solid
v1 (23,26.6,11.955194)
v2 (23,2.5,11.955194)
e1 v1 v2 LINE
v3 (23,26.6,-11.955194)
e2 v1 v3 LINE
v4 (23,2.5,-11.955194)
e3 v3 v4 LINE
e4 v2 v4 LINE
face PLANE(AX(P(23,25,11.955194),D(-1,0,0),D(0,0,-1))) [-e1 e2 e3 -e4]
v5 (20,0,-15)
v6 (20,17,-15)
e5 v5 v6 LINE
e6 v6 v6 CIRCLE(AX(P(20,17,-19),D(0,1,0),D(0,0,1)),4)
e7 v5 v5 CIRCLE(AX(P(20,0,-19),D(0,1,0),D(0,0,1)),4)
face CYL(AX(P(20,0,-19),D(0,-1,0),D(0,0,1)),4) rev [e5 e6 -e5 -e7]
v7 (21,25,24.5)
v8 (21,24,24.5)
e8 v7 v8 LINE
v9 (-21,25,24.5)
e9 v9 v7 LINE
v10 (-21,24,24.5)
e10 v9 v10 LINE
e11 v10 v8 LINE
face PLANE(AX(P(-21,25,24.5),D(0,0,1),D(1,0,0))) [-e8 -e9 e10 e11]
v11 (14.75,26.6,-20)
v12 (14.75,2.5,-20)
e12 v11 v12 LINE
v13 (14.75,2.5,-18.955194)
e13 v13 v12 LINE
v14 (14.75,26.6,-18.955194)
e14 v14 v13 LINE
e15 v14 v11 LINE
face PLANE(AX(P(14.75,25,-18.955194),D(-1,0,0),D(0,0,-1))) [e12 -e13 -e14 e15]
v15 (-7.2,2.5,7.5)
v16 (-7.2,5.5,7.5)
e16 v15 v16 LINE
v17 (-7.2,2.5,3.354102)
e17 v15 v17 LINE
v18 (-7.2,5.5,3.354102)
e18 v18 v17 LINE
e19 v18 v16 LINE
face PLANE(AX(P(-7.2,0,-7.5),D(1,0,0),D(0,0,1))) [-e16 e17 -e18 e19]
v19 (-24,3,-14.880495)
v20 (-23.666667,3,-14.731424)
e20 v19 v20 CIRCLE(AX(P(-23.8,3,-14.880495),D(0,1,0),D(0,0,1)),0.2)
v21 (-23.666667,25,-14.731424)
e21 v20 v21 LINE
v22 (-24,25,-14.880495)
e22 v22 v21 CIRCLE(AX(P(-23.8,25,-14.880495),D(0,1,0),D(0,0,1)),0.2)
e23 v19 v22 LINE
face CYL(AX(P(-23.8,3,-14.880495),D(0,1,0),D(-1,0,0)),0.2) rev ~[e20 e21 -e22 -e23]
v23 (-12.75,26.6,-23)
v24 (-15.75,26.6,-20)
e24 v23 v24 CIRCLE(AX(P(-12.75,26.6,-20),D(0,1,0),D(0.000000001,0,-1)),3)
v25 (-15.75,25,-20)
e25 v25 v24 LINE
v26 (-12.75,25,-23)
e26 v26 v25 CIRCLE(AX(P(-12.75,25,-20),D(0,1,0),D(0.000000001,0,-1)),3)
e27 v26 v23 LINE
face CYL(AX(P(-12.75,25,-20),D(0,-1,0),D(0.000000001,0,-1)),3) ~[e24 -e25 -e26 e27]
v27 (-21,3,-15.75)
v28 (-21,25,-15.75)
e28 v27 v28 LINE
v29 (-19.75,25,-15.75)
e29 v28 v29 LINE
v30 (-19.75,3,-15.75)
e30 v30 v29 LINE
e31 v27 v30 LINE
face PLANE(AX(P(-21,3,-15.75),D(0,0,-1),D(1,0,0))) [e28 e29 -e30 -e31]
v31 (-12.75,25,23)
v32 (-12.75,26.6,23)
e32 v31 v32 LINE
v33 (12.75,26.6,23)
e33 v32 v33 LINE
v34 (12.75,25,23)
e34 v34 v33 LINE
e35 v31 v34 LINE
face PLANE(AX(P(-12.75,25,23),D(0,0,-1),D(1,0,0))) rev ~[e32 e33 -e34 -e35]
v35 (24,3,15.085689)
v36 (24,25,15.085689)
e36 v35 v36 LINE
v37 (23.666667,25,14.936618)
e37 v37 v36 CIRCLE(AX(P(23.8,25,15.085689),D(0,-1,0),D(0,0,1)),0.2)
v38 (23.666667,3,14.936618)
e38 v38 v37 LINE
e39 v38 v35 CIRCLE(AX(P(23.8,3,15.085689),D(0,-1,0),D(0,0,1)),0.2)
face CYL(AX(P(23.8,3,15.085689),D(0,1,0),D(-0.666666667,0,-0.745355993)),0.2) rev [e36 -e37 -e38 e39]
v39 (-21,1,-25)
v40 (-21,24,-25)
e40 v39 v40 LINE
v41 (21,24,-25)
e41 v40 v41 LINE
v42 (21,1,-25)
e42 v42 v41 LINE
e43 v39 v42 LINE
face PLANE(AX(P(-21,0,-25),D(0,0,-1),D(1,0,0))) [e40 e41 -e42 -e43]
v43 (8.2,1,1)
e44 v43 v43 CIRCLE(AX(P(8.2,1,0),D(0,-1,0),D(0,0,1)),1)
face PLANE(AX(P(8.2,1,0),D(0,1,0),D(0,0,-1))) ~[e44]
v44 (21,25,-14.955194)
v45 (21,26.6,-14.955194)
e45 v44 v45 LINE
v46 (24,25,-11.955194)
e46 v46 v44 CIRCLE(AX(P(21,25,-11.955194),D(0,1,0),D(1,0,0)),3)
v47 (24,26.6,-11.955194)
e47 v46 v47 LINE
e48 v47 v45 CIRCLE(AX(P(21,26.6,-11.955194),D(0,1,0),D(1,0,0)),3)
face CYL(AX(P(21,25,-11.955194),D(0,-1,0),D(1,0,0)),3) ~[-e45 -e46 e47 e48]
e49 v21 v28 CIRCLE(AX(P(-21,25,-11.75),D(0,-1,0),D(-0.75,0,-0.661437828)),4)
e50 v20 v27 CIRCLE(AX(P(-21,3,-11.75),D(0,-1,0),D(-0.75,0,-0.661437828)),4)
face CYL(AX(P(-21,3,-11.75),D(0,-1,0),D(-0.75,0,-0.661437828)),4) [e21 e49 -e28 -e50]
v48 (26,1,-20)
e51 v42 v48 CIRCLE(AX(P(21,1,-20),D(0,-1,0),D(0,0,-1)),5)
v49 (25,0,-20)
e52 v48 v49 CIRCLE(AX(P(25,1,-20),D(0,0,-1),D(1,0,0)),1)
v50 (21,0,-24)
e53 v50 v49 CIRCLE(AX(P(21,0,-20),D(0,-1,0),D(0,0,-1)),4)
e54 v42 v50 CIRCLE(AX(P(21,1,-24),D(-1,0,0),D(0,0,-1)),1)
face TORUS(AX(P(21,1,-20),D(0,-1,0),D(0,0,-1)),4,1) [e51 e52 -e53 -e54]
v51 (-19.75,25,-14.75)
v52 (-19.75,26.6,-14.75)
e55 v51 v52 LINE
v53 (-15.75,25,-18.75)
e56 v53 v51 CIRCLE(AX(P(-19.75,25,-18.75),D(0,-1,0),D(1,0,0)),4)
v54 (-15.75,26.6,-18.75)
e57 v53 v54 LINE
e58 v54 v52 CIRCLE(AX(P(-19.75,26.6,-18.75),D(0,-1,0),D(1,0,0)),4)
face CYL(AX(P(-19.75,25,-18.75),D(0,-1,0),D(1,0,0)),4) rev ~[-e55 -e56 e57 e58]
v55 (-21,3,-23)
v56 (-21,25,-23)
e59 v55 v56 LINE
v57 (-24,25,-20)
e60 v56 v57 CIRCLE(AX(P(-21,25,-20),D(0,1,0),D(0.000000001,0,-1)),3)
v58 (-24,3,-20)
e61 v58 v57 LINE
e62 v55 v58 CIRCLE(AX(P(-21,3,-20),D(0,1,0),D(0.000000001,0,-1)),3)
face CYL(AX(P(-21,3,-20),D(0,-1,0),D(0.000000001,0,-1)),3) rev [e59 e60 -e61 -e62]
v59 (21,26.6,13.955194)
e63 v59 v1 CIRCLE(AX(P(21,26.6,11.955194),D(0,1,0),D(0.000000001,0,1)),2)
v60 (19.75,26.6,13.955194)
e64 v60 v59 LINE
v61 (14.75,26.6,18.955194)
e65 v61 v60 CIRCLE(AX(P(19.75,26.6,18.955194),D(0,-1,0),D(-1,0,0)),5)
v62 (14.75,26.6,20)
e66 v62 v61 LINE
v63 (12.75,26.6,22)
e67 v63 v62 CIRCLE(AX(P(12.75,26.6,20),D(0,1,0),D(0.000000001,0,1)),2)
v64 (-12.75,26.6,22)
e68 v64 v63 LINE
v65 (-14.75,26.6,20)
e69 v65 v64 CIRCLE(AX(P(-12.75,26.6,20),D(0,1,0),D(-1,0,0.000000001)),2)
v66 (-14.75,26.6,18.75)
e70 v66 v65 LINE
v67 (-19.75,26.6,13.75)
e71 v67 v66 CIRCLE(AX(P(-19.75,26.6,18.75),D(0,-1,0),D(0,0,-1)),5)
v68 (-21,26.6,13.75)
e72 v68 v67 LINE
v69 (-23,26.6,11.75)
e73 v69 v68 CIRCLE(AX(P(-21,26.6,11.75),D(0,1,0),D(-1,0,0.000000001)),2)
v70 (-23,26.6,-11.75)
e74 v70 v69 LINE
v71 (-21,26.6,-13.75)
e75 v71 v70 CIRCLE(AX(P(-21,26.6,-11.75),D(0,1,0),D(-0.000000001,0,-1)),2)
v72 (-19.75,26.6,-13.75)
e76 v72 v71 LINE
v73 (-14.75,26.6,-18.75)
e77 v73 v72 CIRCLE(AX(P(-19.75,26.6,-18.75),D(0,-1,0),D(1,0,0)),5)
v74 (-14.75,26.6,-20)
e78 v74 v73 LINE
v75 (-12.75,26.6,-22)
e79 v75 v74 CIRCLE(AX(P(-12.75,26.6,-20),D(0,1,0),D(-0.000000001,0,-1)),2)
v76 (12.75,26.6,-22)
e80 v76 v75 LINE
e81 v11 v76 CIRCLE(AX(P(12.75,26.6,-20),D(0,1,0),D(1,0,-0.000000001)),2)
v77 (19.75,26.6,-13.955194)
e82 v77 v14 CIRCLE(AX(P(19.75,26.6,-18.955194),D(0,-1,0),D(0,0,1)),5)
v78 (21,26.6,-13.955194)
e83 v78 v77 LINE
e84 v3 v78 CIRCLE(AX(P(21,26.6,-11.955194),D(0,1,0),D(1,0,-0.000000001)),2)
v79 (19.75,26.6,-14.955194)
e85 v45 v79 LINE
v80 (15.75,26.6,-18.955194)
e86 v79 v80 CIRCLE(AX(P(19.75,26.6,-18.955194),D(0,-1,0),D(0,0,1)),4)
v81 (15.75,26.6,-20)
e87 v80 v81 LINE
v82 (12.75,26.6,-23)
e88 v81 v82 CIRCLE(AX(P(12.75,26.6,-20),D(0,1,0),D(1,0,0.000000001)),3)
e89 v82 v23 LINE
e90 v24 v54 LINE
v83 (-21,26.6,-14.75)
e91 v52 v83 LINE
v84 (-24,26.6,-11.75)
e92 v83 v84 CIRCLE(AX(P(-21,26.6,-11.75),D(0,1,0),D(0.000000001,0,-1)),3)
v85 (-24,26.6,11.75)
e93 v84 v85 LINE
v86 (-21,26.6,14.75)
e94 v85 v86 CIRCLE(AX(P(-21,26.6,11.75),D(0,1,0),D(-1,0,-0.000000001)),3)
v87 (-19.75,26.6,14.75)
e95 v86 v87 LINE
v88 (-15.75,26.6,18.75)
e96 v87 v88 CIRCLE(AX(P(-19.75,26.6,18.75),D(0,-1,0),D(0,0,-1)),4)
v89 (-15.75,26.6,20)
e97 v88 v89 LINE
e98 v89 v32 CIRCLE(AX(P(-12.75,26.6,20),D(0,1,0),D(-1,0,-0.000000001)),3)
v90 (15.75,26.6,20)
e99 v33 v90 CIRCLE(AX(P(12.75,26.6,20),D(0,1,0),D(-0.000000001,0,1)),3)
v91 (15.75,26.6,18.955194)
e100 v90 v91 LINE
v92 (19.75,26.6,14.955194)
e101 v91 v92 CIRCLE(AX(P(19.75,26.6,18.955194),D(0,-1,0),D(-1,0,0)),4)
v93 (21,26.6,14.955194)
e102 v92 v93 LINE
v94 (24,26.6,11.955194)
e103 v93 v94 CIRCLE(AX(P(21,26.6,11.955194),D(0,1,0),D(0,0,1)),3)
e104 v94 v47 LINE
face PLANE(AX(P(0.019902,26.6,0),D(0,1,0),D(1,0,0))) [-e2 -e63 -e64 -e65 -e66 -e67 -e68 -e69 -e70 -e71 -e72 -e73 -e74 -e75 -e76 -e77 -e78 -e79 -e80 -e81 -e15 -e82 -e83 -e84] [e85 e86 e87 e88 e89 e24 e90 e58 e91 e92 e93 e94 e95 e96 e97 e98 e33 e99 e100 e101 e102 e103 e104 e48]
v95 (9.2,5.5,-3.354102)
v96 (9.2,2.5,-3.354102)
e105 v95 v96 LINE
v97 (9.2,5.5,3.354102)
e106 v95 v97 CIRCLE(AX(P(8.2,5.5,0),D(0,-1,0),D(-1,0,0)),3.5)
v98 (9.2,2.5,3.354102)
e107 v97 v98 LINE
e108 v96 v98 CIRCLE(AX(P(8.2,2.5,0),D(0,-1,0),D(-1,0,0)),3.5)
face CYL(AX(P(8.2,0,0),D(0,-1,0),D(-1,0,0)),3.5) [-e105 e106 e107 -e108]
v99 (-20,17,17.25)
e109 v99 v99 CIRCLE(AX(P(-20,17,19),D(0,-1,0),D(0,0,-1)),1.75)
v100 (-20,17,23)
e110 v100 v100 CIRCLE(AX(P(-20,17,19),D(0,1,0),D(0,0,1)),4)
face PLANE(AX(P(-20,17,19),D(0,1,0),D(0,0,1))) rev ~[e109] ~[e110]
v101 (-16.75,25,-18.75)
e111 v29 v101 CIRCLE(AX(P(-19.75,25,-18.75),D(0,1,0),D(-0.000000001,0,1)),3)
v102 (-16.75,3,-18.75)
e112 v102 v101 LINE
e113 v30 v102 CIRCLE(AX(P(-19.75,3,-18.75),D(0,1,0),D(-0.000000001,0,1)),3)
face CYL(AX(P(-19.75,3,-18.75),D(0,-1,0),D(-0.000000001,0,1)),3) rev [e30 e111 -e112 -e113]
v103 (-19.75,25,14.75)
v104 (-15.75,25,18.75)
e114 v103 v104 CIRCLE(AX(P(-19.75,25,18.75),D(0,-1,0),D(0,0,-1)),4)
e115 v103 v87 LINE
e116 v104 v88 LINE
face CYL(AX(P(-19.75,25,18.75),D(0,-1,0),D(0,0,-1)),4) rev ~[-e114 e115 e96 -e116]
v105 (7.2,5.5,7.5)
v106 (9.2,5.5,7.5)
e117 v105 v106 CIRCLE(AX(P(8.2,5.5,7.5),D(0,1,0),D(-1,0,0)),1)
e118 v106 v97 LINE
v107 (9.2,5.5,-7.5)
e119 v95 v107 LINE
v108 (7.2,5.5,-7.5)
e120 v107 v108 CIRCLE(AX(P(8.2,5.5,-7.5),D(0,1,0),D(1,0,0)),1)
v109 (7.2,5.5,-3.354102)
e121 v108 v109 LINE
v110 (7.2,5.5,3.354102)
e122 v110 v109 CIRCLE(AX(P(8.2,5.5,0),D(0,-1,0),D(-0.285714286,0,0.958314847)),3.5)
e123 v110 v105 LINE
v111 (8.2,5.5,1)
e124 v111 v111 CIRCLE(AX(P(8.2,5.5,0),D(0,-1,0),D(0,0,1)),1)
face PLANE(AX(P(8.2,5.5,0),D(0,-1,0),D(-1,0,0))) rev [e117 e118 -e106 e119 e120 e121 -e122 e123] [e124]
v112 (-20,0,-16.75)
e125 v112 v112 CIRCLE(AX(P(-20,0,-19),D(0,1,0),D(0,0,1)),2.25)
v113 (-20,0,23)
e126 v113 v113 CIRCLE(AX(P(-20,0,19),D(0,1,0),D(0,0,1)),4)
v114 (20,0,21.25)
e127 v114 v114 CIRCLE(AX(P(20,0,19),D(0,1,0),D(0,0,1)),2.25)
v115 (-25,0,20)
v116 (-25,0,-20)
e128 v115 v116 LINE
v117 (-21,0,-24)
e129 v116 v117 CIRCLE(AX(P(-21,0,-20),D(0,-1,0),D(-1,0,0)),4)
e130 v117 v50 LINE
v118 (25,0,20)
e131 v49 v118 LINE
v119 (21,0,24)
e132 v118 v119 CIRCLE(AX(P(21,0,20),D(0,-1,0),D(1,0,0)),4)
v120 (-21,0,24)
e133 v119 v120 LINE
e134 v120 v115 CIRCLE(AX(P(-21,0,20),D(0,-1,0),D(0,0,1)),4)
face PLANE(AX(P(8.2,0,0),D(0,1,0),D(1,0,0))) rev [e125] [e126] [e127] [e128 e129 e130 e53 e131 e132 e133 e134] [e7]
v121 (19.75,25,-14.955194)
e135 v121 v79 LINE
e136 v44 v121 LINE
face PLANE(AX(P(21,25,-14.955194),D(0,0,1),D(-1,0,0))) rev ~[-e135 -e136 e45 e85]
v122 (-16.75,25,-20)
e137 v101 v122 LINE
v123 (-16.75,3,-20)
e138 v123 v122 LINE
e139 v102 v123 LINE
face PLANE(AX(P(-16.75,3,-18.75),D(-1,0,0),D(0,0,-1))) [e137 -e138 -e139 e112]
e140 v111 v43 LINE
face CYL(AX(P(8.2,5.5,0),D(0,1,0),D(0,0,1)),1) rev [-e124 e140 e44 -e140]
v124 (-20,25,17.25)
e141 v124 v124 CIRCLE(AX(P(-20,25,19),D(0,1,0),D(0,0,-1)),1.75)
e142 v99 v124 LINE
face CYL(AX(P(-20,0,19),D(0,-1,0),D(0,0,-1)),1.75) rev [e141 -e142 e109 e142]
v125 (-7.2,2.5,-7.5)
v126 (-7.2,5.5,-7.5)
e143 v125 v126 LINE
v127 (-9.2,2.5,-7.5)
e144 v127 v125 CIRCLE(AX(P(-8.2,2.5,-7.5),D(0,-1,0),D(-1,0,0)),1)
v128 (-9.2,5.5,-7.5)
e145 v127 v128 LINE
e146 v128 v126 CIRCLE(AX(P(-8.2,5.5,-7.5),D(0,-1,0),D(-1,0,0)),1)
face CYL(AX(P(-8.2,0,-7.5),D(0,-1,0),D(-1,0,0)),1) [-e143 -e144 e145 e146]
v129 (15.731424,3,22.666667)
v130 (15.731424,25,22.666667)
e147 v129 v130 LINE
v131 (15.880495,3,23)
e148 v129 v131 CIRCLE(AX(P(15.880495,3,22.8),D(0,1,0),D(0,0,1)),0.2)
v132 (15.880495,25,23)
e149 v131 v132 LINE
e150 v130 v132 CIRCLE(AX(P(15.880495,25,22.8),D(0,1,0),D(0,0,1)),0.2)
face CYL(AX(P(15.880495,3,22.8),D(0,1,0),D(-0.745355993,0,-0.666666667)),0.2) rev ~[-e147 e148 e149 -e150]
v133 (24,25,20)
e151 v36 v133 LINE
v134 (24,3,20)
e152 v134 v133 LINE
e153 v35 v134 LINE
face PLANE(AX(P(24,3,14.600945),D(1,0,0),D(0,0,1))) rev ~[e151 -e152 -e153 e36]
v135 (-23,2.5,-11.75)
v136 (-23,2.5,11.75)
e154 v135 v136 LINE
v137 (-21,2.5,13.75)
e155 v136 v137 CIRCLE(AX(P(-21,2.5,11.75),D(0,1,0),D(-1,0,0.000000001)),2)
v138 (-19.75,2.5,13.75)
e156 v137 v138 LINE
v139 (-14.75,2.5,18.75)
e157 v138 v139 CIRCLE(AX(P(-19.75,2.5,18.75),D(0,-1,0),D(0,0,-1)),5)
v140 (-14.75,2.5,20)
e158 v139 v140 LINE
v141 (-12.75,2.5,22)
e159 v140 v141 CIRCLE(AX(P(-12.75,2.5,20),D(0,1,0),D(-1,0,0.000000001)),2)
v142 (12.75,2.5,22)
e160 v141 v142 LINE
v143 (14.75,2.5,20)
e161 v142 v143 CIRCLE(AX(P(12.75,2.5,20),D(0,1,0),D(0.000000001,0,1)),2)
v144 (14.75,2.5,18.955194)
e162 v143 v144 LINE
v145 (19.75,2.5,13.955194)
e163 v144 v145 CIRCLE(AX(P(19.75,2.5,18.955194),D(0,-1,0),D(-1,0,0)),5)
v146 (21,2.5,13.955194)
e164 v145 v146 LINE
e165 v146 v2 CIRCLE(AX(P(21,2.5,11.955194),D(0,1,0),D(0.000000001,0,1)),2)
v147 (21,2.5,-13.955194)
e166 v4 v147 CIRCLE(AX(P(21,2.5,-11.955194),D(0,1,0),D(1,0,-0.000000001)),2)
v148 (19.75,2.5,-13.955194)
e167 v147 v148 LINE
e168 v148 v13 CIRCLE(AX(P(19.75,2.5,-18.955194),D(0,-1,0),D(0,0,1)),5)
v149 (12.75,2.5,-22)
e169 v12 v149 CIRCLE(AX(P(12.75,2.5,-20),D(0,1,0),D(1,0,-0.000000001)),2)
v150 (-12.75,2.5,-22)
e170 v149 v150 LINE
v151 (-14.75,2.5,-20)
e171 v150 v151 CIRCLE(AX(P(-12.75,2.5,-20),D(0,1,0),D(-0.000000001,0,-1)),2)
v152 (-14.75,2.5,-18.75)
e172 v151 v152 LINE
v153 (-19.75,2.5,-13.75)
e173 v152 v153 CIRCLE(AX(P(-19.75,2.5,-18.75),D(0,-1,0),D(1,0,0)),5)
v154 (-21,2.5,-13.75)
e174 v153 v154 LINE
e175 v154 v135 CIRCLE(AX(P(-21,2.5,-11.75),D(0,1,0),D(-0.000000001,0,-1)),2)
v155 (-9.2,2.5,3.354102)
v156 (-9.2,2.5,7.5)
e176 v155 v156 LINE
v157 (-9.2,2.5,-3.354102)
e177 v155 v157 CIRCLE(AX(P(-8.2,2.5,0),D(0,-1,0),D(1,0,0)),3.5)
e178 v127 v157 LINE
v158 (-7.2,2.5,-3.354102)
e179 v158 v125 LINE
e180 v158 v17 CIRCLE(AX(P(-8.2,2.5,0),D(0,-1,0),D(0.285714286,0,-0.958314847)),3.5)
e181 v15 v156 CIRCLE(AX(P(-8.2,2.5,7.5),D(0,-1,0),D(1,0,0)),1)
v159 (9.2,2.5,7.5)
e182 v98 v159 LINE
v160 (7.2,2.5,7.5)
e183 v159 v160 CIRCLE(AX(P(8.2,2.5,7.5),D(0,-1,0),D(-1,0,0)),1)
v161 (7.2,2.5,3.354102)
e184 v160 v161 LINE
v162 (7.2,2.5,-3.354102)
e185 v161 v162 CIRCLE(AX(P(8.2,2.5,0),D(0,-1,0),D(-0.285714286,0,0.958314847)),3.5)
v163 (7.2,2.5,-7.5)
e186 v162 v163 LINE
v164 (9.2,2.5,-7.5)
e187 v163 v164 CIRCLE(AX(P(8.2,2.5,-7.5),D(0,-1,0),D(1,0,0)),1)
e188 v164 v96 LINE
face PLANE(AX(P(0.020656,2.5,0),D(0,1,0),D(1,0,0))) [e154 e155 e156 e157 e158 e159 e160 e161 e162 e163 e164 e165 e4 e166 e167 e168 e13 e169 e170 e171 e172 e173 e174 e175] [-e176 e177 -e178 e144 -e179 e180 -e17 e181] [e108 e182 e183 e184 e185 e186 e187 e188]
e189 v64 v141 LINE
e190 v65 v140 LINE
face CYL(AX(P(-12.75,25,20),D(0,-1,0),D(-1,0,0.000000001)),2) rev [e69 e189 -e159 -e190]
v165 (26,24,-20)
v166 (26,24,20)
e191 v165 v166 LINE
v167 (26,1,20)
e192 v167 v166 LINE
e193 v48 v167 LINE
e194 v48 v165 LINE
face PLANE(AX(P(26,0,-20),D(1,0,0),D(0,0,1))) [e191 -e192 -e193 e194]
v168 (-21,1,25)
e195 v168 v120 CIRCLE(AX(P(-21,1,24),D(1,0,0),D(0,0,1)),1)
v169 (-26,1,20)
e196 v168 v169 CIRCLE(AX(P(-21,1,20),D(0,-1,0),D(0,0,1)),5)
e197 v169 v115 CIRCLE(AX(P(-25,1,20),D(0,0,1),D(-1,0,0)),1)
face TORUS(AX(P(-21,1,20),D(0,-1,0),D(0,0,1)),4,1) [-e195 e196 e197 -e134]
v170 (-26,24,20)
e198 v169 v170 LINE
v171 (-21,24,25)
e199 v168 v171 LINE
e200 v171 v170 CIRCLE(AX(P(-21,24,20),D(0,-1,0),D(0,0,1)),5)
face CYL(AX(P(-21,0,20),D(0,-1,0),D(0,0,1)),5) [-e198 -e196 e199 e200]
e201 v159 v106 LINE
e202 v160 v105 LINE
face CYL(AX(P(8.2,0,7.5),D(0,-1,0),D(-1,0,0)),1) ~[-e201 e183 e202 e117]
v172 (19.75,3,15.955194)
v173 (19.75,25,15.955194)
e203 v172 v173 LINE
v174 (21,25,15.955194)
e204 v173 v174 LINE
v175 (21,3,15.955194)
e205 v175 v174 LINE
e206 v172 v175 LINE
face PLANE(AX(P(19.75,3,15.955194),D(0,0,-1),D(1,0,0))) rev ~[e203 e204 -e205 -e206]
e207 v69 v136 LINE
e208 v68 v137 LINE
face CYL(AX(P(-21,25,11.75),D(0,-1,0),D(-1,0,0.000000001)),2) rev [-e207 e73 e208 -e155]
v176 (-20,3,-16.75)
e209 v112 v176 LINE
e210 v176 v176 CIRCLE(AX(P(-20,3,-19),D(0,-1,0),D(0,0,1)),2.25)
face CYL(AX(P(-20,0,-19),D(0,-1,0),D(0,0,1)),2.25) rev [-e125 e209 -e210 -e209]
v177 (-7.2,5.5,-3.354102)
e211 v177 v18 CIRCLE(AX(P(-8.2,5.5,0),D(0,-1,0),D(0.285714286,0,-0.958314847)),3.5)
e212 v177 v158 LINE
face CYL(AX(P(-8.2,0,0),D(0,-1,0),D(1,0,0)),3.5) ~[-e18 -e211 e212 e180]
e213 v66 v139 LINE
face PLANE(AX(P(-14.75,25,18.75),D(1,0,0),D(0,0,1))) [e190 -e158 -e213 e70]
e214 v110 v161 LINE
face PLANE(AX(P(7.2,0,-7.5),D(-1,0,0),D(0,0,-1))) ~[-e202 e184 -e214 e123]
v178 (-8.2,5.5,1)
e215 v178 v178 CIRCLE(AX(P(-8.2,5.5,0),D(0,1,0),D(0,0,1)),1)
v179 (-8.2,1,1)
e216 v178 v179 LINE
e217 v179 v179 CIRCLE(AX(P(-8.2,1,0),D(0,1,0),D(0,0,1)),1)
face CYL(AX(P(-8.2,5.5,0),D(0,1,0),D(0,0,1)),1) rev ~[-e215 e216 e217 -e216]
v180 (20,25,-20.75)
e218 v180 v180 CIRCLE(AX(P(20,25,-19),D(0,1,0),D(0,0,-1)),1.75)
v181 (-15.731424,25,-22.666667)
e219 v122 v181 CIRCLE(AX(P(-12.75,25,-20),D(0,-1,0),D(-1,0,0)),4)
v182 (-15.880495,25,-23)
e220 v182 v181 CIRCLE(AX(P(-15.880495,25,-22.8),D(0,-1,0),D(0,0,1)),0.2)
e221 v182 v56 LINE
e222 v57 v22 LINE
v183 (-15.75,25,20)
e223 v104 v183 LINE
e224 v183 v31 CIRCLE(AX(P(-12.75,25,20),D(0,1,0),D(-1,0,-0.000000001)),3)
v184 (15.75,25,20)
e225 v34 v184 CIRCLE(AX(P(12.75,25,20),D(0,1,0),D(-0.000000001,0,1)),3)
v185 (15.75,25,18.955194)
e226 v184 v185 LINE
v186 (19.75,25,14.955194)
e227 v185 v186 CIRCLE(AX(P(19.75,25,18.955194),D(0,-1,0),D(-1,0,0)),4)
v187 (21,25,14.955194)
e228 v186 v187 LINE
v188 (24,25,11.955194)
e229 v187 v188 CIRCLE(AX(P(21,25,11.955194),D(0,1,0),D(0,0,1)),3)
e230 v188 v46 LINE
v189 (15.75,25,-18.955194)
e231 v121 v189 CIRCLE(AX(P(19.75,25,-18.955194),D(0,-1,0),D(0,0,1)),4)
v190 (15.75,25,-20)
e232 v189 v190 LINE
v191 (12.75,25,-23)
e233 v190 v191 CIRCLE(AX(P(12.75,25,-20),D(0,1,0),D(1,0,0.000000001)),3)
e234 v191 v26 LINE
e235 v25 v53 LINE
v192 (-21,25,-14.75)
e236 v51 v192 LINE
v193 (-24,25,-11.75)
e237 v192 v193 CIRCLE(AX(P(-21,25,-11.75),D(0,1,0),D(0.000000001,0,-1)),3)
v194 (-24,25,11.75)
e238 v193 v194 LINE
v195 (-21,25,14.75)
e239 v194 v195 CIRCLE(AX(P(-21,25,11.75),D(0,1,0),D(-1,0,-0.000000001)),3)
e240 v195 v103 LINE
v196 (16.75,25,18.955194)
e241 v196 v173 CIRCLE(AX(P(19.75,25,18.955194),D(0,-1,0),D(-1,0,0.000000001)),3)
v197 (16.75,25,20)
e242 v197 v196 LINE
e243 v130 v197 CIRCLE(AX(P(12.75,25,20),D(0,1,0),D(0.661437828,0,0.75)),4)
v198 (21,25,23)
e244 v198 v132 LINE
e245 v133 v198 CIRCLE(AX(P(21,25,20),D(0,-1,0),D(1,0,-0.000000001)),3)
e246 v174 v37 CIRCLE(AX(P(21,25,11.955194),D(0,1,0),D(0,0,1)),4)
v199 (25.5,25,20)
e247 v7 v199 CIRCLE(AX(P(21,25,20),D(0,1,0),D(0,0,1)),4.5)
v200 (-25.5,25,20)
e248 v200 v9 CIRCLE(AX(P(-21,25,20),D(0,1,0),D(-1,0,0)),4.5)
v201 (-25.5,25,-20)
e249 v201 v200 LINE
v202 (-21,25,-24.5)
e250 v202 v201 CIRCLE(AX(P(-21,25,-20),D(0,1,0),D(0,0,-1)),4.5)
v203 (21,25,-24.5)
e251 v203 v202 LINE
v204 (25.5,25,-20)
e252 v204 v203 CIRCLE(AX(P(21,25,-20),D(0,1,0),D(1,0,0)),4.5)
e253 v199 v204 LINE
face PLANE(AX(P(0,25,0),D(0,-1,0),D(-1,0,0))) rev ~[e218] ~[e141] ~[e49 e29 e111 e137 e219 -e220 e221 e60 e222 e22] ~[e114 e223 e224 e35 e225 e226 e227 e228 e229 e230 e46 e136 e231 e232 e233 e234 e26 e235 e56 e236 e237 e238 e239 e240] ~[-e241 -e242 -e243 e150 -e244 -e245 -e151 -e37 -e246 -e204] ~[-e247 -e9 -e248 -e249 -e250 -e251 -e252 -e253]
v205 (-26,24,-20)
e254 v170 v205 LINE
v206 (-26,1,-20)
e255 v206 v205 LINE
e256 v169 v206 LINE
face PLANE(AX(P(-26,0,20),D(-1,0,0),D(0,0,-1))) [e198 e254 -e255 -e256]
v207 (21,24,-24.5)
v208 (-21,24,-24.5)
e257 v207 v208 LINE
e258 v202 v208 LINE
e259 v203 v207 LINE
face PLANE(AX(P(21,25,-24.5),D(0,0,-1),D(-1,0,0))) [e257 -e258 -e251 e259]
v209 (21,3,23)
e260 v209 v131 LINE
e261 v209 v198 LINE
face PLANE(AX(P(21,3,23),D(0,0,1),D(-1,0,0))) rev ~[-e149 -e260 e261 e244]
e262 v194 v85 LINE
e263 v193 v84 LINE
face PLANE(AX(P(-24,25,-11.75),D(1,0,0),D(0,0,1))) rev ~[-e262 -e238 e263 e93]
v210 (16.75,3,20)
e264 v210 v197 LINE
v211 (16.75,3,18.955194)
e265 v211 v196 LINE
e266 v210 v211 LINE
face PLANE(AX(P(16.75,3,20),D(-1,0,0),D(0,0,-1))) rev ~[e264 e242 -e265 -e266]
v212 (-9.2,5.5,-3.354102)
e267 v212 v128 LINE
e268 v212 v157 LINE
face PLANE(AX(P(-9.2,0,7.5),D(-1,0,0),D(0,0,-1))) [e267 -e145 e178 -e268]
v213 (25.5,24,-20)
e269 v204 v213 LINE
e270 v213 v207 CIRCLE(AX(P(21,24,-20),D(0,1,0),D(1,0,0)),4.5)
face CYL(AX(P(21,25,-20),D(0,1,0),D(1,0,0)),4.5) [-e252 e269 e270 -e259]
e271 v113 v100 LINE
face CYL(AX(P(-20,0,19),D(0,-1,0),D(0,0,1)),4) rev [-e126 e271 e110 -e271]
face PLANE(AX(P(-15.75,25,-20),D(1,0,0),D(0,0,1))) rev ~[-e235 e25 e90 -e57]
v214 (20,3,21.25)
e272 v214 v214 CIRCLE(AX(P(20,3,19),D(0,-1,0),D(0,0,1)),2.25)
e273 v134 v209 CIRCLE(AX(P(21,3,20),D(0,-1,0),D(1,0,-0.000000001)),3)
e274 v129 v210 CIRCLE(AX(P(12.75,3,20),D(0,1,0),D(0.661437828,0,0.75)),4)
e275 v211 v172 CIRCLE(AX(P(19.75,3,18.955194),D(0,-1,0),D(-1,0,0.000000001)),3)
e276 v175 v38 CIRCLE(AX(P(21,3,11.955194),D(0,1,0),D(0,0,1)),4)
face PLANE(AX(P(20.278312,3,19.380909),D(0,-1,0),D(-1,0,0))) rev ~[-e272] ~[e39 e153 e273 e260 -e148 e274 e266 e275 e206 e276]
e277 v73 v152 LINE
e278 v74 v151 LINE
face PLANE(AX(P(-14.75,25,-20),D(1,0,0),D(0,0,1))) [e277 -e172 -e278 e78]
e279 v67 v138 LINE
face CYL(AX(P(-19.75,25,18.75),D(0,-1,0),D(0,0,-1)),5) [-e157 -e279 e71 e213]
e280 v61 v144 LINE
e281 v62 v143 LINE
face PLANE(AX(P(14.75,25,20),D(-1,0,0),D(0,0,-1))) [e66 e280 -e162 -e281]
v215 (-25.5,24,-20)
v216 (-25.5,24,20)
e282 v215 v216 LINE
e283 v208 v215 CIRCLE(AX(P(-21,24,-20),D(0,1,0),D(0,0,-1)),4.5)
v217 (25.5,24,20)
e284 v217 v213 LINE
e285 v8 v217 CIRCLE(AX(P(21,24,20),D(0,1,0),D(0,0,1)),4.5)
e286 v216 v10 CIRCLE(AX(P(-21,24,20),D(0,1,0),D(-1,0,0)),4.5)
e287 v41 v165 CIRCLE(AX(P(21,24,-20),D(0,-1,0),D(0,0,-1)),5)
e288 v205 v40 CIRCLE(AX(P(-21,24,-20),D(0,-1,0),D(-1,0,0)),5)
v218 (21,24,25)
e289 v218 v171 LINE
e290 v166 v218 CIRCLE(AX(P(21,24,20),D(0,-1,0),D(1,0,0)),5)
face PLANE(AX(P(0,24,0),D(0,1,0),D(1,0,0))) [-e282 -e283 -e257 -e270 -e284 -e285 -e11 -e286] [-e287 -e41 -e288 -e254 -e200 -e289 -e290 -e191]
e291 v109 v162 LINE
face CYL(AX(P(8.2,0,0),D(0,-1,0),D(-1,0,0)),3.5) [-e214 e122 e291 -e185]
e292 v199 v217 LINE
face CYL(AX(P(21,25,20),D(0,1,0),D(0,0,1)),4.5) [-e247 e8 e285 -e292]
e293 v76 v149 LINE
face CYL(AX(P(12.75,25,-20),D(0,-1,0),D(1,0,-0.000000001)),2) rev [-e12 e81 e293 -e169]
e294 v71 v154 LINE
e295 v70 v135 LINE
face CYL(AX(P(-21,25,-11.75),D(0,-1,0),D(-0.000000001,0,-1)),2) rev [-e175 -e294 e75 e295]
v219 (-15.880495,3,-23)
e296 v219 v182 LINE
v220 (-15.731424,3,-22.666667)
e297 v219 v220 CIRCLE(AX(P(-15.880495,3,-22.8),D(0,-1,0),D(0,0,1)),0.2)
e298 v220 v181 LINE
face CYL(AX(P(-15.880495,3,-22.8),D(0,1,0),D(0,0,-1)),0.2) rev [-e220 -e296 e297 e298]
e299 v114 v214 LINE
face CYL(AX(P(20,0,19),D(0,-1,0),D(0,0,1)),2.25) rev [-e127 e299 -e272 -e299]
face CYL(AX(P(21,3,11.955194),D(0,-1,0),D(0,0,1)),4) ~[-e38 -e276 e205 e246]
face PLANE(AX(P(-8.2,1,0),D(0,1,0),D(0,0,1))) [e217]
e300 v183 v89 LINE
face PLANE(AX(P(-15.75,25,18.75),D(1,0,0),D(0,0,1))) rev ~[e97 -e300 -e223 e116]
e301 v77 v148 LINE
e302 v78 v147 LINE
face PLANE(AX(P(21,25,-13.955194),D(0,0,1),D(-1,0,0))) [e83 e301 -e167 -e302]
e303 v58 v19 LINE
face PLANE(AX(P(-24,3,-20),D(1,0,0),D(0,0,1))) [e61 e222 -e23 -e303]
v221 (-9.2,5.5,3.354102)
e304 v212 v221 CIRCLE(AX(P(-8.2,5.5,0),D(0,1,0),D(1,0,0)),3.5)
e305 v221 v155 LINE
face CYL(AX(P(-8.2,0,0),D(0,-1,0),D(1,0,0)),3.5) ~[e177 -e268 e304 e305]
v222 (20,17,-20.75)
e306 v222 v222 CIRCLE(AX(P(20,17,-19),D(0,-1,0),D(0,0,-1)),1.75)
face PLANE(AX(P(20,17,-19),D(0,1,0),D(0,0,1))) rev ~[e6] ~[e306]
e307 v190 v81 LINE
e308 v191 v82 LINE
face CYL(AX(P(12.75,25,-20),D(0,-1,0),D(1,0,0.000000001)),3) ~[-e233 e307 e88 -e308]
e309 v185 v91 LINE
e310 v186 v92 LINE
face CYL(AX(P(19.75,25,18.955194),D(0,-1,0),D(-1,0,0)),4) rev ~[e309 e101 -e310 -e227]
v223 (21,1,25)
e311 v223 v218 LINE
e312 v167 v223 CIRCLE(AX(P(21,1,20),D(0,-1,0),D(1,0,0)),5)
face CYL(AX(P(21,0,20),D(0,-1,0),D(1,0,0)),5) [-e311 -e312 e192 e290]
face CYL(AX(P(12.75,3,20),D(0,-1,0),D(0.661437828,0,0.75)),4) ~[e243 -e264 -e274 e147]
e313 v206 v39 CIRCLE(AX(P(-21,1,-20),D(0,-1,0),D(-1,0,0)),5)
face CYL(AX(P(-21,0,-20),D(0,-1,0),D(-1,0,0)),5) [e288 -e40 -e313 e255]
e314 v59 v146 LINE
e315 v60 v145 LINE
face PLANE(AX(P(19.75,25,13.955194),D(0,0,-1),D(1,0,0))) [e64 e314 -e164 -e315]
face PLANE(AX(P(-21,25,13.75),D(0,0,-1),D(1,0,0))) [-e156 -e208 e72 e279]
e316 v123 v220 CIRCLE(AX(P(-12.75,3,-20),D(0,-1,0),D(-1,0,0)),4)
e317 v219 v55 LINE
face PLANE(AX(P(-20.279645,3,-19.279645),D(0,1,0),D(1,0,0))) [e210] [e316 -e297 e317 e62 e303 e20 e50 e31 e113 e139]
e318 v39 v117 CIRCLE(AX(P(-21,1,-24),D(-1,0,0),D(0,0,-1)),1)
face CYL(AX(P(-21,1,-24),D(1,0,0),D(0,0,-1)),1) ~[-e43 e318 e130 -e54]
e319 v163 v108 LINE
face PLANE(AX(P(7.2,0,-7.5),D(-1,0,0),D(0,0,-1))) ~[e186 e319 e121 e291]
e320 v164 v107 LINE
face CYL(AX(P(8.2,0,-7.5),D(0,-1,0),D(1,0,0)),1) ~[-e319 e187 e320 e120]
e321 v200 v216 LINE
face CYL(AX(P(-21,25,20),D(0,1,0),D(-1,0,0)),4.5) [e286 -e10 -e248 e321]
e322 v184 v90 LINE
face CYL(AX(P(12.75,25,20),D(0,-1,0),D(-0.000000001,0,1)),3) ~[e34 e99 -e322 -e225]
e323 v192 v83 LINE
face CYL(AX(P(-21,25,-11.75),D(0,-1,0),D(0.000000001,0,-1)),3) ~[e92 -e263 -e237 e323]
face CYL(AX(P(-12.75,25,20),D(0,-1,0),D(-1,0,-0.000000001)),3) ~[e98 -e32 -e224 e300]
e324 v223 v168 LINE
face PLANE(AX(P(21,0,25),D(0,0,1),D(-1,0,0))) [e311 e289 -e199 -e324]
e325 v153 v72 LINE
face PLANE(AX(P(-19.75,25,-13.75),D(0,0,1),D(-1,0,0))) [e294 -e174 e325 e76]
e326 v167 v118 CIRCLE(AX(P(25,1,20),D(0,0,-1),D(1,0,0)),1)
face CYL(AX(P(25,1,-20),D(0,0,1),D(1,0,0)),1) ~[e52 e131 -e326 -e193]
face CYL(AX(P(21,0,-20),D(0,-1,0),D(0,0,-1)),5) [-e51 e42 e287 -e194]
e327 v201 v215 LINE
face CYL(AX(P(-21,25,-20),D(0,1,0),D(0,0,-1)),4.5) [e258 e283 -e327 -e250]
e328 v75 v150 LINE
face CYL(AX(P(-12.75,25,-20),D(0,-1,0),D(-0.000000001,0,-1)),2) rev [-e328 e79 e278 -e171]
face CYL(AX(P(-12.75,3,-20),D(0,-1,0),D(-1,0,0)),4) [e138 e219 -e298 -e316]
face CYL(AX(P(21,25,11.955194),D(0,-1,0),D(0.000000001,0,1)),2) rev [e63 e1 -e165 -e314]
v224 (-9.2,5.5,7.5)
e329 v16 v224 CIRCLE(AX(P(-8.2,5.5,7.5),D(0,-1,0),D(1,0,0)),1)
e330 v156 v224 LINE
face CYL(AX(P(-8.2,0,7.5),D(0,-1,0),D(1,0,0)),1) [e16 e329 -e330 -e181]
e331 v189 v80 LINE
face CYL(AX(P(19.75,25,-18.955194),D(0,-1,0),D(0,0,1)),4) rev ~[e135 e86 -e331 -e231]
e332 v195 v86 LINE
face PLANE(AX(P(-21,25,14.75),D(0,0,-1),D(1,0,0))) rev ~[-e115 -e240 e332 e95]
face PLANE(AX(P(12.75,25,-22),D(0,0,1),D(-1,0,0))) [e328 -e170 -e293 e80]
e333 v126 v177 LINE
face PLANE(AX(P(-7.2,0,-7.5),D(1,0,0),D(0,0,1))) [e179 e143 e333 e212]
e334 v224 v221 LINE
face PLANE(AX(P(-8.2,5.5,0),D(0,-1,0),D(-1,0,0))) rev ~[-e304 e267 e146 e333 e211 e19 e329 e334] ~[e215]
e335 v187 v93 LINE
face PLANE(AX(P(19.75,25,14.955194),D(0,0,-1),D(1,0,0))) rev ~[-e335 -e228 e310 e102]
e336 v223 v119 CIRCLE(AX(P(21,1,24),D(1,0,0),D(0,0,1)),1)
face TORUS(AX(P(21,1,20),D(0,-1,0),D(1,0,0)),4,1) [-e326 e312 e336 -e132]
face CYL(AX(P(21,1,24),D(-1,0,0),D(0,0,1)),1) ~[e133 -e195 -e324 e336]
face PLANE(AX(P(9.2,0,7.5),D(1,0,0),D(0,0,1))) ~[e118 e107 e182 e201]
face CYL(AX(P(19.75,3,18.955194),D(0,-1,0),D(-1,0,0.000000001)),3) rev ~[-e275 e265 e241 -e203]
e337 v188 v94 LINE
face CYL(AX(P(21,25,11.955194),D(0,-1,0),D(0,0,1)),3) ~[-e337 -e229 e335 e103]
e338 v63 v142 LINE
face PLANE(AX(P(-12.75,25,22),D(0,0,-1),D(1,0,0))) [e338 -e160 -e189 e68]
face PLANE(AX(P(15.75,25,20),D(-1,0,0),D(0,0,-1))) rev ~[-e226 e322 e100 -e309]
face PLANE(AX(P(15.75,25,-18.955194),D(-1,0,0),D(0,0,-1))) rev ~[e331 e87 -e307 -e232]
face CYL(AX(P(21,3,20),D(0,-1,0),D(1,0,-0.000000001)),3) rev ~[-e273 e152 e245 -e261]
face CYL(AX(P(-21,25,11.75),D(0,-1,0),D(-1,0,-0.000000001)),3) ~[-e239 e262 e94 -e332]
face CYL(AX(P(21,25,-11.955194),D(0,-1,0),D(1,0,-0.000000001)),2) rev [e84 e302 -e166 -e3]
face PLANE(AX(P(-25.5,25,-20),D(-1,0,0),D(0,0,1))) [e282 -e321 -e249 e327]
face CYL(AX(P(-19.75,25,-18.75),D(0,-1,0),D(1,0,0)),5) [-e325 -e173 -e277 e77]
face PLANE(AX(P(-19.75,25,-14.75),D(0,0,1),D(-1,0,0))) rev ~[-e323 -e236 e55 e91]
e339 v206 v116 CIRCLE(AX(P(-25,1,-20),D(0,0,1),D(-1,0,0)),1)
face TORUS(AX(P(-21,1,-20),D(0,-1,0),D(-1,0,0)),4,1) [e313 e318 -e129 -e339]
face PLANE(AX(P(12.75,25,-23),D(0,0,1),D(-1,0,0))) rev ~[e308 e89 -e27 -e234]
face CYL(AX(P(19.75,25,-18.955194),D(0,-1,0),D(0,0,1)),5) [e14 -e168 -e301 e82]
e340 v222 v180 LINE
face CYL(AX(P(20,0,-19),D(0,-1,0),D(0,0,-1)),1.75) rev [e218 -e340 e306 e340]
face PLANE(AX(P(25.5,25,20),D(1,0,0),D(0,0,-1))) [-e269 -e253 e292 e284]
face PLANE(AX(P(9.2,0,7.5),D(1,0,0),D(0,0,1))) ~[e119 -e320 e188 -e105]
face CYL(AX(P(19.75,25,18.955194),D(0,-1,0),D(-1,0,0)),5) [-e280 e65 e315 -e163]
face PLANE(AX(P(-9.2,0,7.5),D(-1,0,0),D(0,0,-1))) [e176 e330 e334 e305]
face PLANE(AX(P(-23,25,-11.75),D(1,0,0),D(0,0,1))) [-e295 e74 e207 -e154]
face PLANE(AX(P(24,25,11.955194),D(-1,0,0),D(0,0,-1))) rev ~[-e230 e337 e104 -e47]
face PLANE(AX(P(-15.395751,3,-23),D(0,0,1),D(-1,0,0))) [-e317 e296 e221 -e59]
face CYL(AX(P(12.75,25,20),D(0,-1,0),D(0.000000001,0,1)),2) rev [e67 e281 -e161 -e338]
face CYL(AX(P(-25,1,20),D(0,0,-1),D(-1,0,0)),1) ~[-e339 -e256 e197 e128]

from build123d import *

# Parameters (mm, degrees)
EXTRUDE_1_DEPTH       = 25
CUT_EXTRUDE_START     = 2.5
CUT_EXTRUDE_1_DEPTH   = 22.5
CUT_EXTRUDE_START_2   = 3
CUT_EXTRUDE_3_DEPTH   = 22
EXTRUDE_START         = 25
EXTRUDE_1_2_DEPTH     = 1.6
CUT_EXTRUDE_START_3   = 25
CUT_EXTRUDE_1_2_DEPTH = 1
FILLET_1_R            = 0.2
SKETCH_9_R            = 2.25
CUT_EXTRUDE_4_DEPTH   = 4
SKETCH_10_R           = 4
CUT_EXTRUDE_5_DEPTH   = 17
FILLET_2_R            = 1
SKETCH_11_R           = 1.75
CUT_EXTRUDE_6_DEPTH   = 25
EXTRUDE_2_DEPTH       = 5.5
SKETCH_13_R           = 3.5
EXTRUDE_3_DEPTH       = 5.5
SKETCH_14_R           = 1
CUT_EXTRUDE_7_DEPTH   = 4.5


with BuildPart() as part:
    # Эскиз1 → Extrude 1 (new body)
    with BuildSketch(Plane(origin=(0, 0, 0), x_dir=(1, 0, 0), z_dir=(0, 1, 0))):
        with BuildLine():
            Line((-21, 25), (21, 25))
            ThreePointArc((21, 25), (24.535533906, 23.535533906), (26, 20))
            Line((26, 20), (26, -20))
            ThreePointArc((26, -20), (24.535533906, -23.535533906), (21, -25))
            Line((21, -25), (-21, -25))
            ThreePointArc((-21, -25), (-24.535533906, -23.535533906), (-26, -20))
            Line((-26, -20), (-26, 20))
            ThreePointArc((-26, 20), (-24.535533906, 23.535533906), (-21, 25))
        make_face()
    extrude(amount=EXTRUDE_1_DEPTH)

    # Эскиз2 → Cut-Extrude 1 (cut)
    with BuildSketch(Plane(origin=(0, 0, 0), x_dir=(1, 0, 0), z_dir=(0, 1, 0)).offset(CUT_EXTRUDE_START)):
        with BuildLine():
            Line((-14.75, 20), (-14.75, 18.75))
            ThreePointArc((-14.75, 18.75), (-16.214466094, 15.214466094), (-19.75, 13.75))
            Line((-19.75, 13.75), (-21, 13.75))
            ThreePointArc((-21, 13.75), (-22.414213562, 13.164213562), (-23, 11.75))
            Line((-23, 11.75), (-23, -11.75))
            ThreePointArc((-23, -11.75), (-22.414213562, -13.164213562), (-21, -13.75))
            Line((-21, -13.75), (-19.75, -13.75))
            ThreePointArc((-19.75, -13.75), (-16.214466094, -15.214466094), (-14.75, -18.75))
            Line((-14.75, -18.75), (-14.75, -20))
            ThreePointArc((-14.75, -20), (-14.164213562, -21.414213562), (-12.75, -22))
            Line((-12.75, -22), (12.75, -22))
            ThreePointArc((12.75, -22), (14.164213562, -21.414213562), (14.75, -20))
            Line((14.75, -20), (14.75, -18.955193866))
            ThreePointArc((14.75, -18.955193866), (16.214466094, -15.41965996), (19.75, -13.955193866))
            Line((19.75, -13.955193866), (21, -13.955193866))
            ThreePointArc((21, -13.955193866), (22.414213562, -13.369407428), (23, -11.955193866))
            Line((23, -11.955193866), (23, 11.955193866))
            ThreePointArc((23, 11.955193866), (22.414213562, 13.369407428), (21, 13.955193866))
            Line((21, 13.955193866), (19.75, 13.955193866))
            ThreePointArc((19.75, 13.955193866), (16.214466094, 15.41965996), (14.75, 18.955193866))
            Line((14.75, 18.955193866), (14.75, 20))
            ThreePointArc((14.75, 20), (14.164213562, 21.414213562), (12.75, 22))
            Line((12.75, 22), (-12.75, 22))
            ThreePointArc((-12.75, 22), (-14.164213562, 21.414213562), (-14.75, 20))
        make_face()
    extrude(amount=CUT_EXTRUDE_1_DEPTH, mode=Mode.SUBTRACT)

    # Эскиз8 → Вырез-Вытянуть3 (cut)
    with BuildSketch(Plane(origin=(0, 0, 0), x_dir=(1, 0, 0), z_dir=(0, 1, 0)).offset(CUT_EXTRUDE_START_2)):
        with BuildLine():
            Line((-24, 20), (-24, 14.395751311))
            ThreePointArc((-24, 14.395751311), (-22.645751311, 15.395751311), (-21, 15.75))
            Line((-21, 15.75), (-19.75, 15.75))
            ThreePointArc((-19.75, 15.75), (-17.628679656, 16.628679656), (-16.75, 18.75))
            Line((-16.75, 18.75), (-16.75, 20))
            ThreePointArc((-16.75, 20), (-16.395751311, 21.645751311), (-15.395751311, 23))
            Line((-15.395751311, 23), (-21, 23))
            ThreePointArc((-21, 23), (-23.121320344, 22.121320344), (-24, 20))
        make_face()
        with BuildLine():
            Line((19.75, -15.955193866), (21, -15.955193866))
            ThreePointArc((21, -15.955193866), (22.645751311, -15.600945177), (24, -14.600945177))
            Line((24, -14.600945177), (24, -20))
            ThreePointArc((24, -20), (23.121320344, -22.121320344), (21, -23))
            Line((21, -23), (15.395751311, -23))
            ThreePointArc((15.395751311, -23), (16.395751311, -21.645751311), (16.75, -20))
            Line((16.75, -20), (16.75, -18.955193866))
            ThreePointArc((16.75, -18.955193866), (17.628679656, -16.833873522), (19.75, -15.955193866))
        make_face()
    extrude(amount=CUT_EXTRUDE_3_DEPTH, mode=Mode.SUBTRACT)

    # Эскиз2<2> → Extrude 1 2 (add)
    with BuildSketch(Plane(origin=(0, 0, 0), x_dir=(1, 0, 0), z_dir=(0, 1, 0)).offset(EXTRUDE_START)):
        with BuildLine():
            Line((-19.75, 14.75), (-21, 14.75))
            ThreePointArc((-21, 14.75), (-23.121320344, 13.871320344), (-24, 11.75))
            Line((-24, 11.75), (-24, -11.75))
            ThreePointArc((-24, -11.75), (-23.121320344, -13.871320344), (-21, -14.75))
            Line((-21, -14.75), (-19.75, -14.75))
            ThreePointArc((-19.75, -14.75), (-16.921572875, -15.921572875), (-15.75, -18.75))
            Line((-15.75, -18.75), (-15.75, -20))
            ThreePointArc((-15.75, -20), (-14.871320344, -22.121320344), (-12.75, -23))
            Line((-12.75, -23), (12.75, -23))
            ThreePointArc((12.75, -23), (14.871320344, -22.121320344), (15.75, -20))
            Line((15.75, -20), (15.75, -18.955193866))
            ThreePointArc((15.75, -18.955193866), (16.921572875, -16.126766741), (19.75, -14.955193866))
            Line((19.75, -14.955193866), (21, -14.955193866))
            ThreePointArc((21, -14.955193866), (23.121320344, -14.076514209), (24, -11.955193866))
            Line((24, -11.955193866), (24, 11.955193866))
            ThreePointArc((24, 11.955193866), (23.121320344, 14.076514209), (21, 14.955193866))
            Line((21, 14.955193866), (19.75, 14.955193866))
            ThreePointArc((19.75, 14.955193866), (16.921572875, 16.126766741), (15.75, 18.955193866))
            Line((15.75, 18.955193866), (15.75, 20))
            ThreePointArc((15.75, 20), (14.871320344, 22.121320344), (12.75, 23))
            Line((12.75, 23), (-12.75, 23))
            ThreePointArc((-12.75, 23), (-14.871320344, 22.121320344), (-15.75, 20))
            Line((-15.75, 20), (-15.75, 18.75))
            ThreePointArc((-15.75, 18.75), (-16.921572875, 15.921572875), (-19.75, 14.75))
        make_face()
        with BuildLine():
            Line((-19.75, 13.75), (-21, 13.75))
            ThreePointArc((-21, 13.75), (-22.414213562, 13.164213562), (-23, 11.75))
            Line((-23, 11.75), (-23, -11.75))
            ThreePointArc((-23, -11.75), (-22.414213562, -13.164213562), (-21, -13.75))
            Line((-21, -13.75), (-19.75, -13.75))
            ThreePointArc((-19.75, -13.75), (-16.214466094, -15.214466094), (-14.75, -18.75))
            Line((-14.75, -18.75), (-14.75, -20))
            ThreePointArc((-14.75, -20), (-14.164213562, -21.414213562), (-12.75, -22))
            Line((-12.75, -22), (12.75, -22))
            ThreePointArc((12.75, -22), (14.164213562, -21.414213562), (14.75, -20))
            Line((14.75, -20), (14.75, -18.955193866))
            ThreePointArc((14.75, -18.955193866), (16.214466094, -15.41965996), (19.75, -13.955193866))
            Line((19.75, -13.955193866), (21, -13.955193866))
            ThreePointArc((21, -13.955193866), (22.414213562, -13.369407428), (23, -11.955193866))
            Line((23, -11.955193866), (23, 11.955193866))
            ThreePointArc((23, 11.955193866), (22.414213562, 13.369407428), (21, 13.955193866))
            Line((21, 13.955193866), (19.75, 13.955193866))
            ThreePointArc((19.75, 13.955193866), (16.214466094, 15.41965996), (14.75, 18.955193866))
            Line((14.75, 18.955193866), (14.75, 20))
            ThreePointArc((14.75, 20), (14.164213562, 21.414213562), (12.75, 22))
            Line((12.75, 22), (-12.75, 22))
            ThreePointArc((-12.75, 22), (-14.164213562, 21.414213562), (-14.75, 20))
            Line((-14.75, 20), (-14.75, 18.75))
            ThreePointArc((-14.75, 18.75), (-16.214466094, 15.214466094), (-19.75, 13.75))
        make_face(mode=Mode.SUBTRACT)
    extrude(amount=EXTRUDE_1_2_DEPTH)

    # Эскиз4 → Cut-Extrude 1 2 (cut)
    with BuildSketch(Plane(origin=(0, 0, 0), x_dir=(1, 0, 0), z_dir=(0, 1, 0)).offset(CUT_EXTRUDE_START_3)):
        with BuildLine():
            Line((-26.5, 20), (-26.5, -20))
            ThreePointArc((-26.5, -20), (-24.889087297, -23.889087297), (-21, -25.5))
            Line((-21, -25.5), (21, -25.5))
            ThreePointArc((21, -25.5), (24.889087297, -23.889087297), (26.5, -20))
            Line((26.5, -20), (26.5, 20))
            ThreePointArc((26.5, 20), (24.889087297, 23.889087297), (21, 25.5))
            Line((21, 25.5), (-21, 25.5))
            ThreePointArc((-21, 25.5), (-24.889087297, 23.889087297), (-26.5, 20))
        make_face()
        with BuildLine():
            Line((-25.5, 20), (-25.5, -20))
            ThreePointArc((-25.5, -20), (-24.181980515, -23.181980515), (-21, -24.5))
            Line((-21, -24.5), (21, -24.5))
            ThreePointArc((21, -24.5), (24.181980515, -23.181980515), (25.5, -20))
            Line((25.5, -20), (25.5, 20))
            ThreePointArc((25.5, 20), (24.181980515, 23.181980515), (21, 24.5))
            Line((21, 24.5), (-21, 24.5))
            ThreePointArc((-21, 24.5), (-24.181980515, 23.181980515), (-25.5, 20))
        make_face(mode=Mode.SUBTRACT)
    extrude(amount=-CUT_EXTRUDE_1_2_DEPTH, mode=Mode.SUBTRACT)

    # Скругление1
    fillet_1_edges = [part.edges().sort_by_distance(p)[0] for p in [
        (15.395751311, 14, 23),
        (24, 14, 14.600945177),
        (-15.395751311, 14, -23),
        (-24, 14, -14.395751311),
    ]]
    fillet(fillet_1_edges, radius=FILLET_1_R)

    # Эскиз9 → Вырез-Вытянуть4 (cut)
    with BuildSketch(Plane(origin=(0, 0, 0), x_dir=(1, 0, 0), z_dir=(0, 1, 0))):
        with Locations(Location((-20, 19, 0), (0, 0, 270))):
            Circle(SKETCH_9_R)
        with Locations(Location((20, -19, 0), (0, 0, 270))):
            Circle(SKETCH_9_R)
    extrude(amount=CUT_EXTRUDE_4_DEPTH, mode=Mode.SUBTRACT)

    # Эскиз10 → Вырез-Вытянуть5 (cut)
    with BuildSketch(Plane(origin=(0, 0, 0), x_dir=(1, 0, 0), z_dir=(0, 1, 0))):
        with Locations(Location((20, 19, 0), (0, 0, 270))):
            Circle(SKETCH_10_R)
        with Locations(Location((-20, -19, 0), (0, 0, 270))):
            Circle(SKETCH_10_R)
    extrude(amount=CUT_EXTRUDE_5_DEPTH, mode=Mode.SUBTRACT)

    # Скругление2
    fillet_2_edges = [part.edges().sort_by_distance(p)[0] for p in [
        (0, 0, -25),
        (24.535533906, 0, -23.535533906),
        (26, 0, 0),
        (24.535533906, 0, 23.535533906),
        (0, 0, 25),
        (-24.535533906, 0, 23.535533906),
        (-26, 0, 0),
        (-24.535533906, 0, -23.535533906),
    ]]
    fillet(fillet_2_edges, radius=FILLET_2_R)

    # Эскиз11 → Вырез-Вытянуть6 (cut)
    with BuildSketch(Plane(origin=(0, 0, 0), x_dir=(1, 0, 0), z_dir=(0, 1, 0))):
        with Locations(Location((-20, -19, 0), (0, 0, 90))):
            Circle(SKETCH_11_R)
        with Locations(Location((20, 19, 0), (0, 0, 90))):
            Circle(SKETCH_11_R)
    extrude(amount=CUT_EXTRUDE_6_DEPTH, mode=Mode.SUBTRACT)

    # Эскиз12 → Бобышка-Вытянуть2 (add)
    with BuildSketch(Plane(origin=(0, 0, 0), x_dir=(1, 0, 0), z_dir=(0, 1, 0))):
        with BuildLine():
            Line((-7.2, 7.5), (-7.2, -7.5))
            ThreePointArc((-7.2, -7.5), (-8.2, -8.5), (-9.2, -7.5))
            Line((-9.2, -7.5), (-9.2, 7.5))
            ThreePointArc((-9.2, 7.5), (-8.2, 8.5), (-7.2, 7.5))
        make_face()
    extrude_2 = extrude(amount=EXTRUDE_2_DEPTH)

    # Эскиз13 → Бобышка-Вытянуть3 (add)
    with BuildSketch(Plane(origin=(0, 0, 0), x_dir=(1, 0, 0), z_dir=(0, 1, 0))):
        with Locations((-8.2, 0)):
            Circle(SKETCH_13_R)
    extrude_3 = extrude(amount=EXTRUDE_3_DEPTH)

    # Эскиз14 → Вырез-Вытянуть7 (cut)
    with BuildSketch(Plane(origin=(0, 5.5, 0), x_dir=(1, 0, 0), z_dir=(0, 1, 0))):
        with Locations(Location((-8.2, 0, 0), (0, 0, 270))):
            Circle(SKETCH_14_R)
    cut_extrude_7 = extrude(amount=-CUT_EXTRUDE_7_DEPTH, mode=Mode.SUBTRACT)

    # Зеркальное отражение1: Бобышка-Вытянуть2, Бобышка-Вытянуть3, Вырез-Вытянуть7 across plane
    add(extrude_2.mirror(Plane(origin=(0, 0, 0), x_dir=(0, 0, 1), z_dir=(1, 0, 0))))
    add(extrude_3.mirror(Plane(origin=(0, 0, 0), x_dir=(0, 0, 1), z_dir=(1, 0, 0))))
    add(cut_extrude_7.mirror(Plane(origin=(0, 0, 0), x_dir=(0, 0, 1), z_dir=(1, 0, 0))), mode=Mode.SUBTRACT)


solid = part.part
